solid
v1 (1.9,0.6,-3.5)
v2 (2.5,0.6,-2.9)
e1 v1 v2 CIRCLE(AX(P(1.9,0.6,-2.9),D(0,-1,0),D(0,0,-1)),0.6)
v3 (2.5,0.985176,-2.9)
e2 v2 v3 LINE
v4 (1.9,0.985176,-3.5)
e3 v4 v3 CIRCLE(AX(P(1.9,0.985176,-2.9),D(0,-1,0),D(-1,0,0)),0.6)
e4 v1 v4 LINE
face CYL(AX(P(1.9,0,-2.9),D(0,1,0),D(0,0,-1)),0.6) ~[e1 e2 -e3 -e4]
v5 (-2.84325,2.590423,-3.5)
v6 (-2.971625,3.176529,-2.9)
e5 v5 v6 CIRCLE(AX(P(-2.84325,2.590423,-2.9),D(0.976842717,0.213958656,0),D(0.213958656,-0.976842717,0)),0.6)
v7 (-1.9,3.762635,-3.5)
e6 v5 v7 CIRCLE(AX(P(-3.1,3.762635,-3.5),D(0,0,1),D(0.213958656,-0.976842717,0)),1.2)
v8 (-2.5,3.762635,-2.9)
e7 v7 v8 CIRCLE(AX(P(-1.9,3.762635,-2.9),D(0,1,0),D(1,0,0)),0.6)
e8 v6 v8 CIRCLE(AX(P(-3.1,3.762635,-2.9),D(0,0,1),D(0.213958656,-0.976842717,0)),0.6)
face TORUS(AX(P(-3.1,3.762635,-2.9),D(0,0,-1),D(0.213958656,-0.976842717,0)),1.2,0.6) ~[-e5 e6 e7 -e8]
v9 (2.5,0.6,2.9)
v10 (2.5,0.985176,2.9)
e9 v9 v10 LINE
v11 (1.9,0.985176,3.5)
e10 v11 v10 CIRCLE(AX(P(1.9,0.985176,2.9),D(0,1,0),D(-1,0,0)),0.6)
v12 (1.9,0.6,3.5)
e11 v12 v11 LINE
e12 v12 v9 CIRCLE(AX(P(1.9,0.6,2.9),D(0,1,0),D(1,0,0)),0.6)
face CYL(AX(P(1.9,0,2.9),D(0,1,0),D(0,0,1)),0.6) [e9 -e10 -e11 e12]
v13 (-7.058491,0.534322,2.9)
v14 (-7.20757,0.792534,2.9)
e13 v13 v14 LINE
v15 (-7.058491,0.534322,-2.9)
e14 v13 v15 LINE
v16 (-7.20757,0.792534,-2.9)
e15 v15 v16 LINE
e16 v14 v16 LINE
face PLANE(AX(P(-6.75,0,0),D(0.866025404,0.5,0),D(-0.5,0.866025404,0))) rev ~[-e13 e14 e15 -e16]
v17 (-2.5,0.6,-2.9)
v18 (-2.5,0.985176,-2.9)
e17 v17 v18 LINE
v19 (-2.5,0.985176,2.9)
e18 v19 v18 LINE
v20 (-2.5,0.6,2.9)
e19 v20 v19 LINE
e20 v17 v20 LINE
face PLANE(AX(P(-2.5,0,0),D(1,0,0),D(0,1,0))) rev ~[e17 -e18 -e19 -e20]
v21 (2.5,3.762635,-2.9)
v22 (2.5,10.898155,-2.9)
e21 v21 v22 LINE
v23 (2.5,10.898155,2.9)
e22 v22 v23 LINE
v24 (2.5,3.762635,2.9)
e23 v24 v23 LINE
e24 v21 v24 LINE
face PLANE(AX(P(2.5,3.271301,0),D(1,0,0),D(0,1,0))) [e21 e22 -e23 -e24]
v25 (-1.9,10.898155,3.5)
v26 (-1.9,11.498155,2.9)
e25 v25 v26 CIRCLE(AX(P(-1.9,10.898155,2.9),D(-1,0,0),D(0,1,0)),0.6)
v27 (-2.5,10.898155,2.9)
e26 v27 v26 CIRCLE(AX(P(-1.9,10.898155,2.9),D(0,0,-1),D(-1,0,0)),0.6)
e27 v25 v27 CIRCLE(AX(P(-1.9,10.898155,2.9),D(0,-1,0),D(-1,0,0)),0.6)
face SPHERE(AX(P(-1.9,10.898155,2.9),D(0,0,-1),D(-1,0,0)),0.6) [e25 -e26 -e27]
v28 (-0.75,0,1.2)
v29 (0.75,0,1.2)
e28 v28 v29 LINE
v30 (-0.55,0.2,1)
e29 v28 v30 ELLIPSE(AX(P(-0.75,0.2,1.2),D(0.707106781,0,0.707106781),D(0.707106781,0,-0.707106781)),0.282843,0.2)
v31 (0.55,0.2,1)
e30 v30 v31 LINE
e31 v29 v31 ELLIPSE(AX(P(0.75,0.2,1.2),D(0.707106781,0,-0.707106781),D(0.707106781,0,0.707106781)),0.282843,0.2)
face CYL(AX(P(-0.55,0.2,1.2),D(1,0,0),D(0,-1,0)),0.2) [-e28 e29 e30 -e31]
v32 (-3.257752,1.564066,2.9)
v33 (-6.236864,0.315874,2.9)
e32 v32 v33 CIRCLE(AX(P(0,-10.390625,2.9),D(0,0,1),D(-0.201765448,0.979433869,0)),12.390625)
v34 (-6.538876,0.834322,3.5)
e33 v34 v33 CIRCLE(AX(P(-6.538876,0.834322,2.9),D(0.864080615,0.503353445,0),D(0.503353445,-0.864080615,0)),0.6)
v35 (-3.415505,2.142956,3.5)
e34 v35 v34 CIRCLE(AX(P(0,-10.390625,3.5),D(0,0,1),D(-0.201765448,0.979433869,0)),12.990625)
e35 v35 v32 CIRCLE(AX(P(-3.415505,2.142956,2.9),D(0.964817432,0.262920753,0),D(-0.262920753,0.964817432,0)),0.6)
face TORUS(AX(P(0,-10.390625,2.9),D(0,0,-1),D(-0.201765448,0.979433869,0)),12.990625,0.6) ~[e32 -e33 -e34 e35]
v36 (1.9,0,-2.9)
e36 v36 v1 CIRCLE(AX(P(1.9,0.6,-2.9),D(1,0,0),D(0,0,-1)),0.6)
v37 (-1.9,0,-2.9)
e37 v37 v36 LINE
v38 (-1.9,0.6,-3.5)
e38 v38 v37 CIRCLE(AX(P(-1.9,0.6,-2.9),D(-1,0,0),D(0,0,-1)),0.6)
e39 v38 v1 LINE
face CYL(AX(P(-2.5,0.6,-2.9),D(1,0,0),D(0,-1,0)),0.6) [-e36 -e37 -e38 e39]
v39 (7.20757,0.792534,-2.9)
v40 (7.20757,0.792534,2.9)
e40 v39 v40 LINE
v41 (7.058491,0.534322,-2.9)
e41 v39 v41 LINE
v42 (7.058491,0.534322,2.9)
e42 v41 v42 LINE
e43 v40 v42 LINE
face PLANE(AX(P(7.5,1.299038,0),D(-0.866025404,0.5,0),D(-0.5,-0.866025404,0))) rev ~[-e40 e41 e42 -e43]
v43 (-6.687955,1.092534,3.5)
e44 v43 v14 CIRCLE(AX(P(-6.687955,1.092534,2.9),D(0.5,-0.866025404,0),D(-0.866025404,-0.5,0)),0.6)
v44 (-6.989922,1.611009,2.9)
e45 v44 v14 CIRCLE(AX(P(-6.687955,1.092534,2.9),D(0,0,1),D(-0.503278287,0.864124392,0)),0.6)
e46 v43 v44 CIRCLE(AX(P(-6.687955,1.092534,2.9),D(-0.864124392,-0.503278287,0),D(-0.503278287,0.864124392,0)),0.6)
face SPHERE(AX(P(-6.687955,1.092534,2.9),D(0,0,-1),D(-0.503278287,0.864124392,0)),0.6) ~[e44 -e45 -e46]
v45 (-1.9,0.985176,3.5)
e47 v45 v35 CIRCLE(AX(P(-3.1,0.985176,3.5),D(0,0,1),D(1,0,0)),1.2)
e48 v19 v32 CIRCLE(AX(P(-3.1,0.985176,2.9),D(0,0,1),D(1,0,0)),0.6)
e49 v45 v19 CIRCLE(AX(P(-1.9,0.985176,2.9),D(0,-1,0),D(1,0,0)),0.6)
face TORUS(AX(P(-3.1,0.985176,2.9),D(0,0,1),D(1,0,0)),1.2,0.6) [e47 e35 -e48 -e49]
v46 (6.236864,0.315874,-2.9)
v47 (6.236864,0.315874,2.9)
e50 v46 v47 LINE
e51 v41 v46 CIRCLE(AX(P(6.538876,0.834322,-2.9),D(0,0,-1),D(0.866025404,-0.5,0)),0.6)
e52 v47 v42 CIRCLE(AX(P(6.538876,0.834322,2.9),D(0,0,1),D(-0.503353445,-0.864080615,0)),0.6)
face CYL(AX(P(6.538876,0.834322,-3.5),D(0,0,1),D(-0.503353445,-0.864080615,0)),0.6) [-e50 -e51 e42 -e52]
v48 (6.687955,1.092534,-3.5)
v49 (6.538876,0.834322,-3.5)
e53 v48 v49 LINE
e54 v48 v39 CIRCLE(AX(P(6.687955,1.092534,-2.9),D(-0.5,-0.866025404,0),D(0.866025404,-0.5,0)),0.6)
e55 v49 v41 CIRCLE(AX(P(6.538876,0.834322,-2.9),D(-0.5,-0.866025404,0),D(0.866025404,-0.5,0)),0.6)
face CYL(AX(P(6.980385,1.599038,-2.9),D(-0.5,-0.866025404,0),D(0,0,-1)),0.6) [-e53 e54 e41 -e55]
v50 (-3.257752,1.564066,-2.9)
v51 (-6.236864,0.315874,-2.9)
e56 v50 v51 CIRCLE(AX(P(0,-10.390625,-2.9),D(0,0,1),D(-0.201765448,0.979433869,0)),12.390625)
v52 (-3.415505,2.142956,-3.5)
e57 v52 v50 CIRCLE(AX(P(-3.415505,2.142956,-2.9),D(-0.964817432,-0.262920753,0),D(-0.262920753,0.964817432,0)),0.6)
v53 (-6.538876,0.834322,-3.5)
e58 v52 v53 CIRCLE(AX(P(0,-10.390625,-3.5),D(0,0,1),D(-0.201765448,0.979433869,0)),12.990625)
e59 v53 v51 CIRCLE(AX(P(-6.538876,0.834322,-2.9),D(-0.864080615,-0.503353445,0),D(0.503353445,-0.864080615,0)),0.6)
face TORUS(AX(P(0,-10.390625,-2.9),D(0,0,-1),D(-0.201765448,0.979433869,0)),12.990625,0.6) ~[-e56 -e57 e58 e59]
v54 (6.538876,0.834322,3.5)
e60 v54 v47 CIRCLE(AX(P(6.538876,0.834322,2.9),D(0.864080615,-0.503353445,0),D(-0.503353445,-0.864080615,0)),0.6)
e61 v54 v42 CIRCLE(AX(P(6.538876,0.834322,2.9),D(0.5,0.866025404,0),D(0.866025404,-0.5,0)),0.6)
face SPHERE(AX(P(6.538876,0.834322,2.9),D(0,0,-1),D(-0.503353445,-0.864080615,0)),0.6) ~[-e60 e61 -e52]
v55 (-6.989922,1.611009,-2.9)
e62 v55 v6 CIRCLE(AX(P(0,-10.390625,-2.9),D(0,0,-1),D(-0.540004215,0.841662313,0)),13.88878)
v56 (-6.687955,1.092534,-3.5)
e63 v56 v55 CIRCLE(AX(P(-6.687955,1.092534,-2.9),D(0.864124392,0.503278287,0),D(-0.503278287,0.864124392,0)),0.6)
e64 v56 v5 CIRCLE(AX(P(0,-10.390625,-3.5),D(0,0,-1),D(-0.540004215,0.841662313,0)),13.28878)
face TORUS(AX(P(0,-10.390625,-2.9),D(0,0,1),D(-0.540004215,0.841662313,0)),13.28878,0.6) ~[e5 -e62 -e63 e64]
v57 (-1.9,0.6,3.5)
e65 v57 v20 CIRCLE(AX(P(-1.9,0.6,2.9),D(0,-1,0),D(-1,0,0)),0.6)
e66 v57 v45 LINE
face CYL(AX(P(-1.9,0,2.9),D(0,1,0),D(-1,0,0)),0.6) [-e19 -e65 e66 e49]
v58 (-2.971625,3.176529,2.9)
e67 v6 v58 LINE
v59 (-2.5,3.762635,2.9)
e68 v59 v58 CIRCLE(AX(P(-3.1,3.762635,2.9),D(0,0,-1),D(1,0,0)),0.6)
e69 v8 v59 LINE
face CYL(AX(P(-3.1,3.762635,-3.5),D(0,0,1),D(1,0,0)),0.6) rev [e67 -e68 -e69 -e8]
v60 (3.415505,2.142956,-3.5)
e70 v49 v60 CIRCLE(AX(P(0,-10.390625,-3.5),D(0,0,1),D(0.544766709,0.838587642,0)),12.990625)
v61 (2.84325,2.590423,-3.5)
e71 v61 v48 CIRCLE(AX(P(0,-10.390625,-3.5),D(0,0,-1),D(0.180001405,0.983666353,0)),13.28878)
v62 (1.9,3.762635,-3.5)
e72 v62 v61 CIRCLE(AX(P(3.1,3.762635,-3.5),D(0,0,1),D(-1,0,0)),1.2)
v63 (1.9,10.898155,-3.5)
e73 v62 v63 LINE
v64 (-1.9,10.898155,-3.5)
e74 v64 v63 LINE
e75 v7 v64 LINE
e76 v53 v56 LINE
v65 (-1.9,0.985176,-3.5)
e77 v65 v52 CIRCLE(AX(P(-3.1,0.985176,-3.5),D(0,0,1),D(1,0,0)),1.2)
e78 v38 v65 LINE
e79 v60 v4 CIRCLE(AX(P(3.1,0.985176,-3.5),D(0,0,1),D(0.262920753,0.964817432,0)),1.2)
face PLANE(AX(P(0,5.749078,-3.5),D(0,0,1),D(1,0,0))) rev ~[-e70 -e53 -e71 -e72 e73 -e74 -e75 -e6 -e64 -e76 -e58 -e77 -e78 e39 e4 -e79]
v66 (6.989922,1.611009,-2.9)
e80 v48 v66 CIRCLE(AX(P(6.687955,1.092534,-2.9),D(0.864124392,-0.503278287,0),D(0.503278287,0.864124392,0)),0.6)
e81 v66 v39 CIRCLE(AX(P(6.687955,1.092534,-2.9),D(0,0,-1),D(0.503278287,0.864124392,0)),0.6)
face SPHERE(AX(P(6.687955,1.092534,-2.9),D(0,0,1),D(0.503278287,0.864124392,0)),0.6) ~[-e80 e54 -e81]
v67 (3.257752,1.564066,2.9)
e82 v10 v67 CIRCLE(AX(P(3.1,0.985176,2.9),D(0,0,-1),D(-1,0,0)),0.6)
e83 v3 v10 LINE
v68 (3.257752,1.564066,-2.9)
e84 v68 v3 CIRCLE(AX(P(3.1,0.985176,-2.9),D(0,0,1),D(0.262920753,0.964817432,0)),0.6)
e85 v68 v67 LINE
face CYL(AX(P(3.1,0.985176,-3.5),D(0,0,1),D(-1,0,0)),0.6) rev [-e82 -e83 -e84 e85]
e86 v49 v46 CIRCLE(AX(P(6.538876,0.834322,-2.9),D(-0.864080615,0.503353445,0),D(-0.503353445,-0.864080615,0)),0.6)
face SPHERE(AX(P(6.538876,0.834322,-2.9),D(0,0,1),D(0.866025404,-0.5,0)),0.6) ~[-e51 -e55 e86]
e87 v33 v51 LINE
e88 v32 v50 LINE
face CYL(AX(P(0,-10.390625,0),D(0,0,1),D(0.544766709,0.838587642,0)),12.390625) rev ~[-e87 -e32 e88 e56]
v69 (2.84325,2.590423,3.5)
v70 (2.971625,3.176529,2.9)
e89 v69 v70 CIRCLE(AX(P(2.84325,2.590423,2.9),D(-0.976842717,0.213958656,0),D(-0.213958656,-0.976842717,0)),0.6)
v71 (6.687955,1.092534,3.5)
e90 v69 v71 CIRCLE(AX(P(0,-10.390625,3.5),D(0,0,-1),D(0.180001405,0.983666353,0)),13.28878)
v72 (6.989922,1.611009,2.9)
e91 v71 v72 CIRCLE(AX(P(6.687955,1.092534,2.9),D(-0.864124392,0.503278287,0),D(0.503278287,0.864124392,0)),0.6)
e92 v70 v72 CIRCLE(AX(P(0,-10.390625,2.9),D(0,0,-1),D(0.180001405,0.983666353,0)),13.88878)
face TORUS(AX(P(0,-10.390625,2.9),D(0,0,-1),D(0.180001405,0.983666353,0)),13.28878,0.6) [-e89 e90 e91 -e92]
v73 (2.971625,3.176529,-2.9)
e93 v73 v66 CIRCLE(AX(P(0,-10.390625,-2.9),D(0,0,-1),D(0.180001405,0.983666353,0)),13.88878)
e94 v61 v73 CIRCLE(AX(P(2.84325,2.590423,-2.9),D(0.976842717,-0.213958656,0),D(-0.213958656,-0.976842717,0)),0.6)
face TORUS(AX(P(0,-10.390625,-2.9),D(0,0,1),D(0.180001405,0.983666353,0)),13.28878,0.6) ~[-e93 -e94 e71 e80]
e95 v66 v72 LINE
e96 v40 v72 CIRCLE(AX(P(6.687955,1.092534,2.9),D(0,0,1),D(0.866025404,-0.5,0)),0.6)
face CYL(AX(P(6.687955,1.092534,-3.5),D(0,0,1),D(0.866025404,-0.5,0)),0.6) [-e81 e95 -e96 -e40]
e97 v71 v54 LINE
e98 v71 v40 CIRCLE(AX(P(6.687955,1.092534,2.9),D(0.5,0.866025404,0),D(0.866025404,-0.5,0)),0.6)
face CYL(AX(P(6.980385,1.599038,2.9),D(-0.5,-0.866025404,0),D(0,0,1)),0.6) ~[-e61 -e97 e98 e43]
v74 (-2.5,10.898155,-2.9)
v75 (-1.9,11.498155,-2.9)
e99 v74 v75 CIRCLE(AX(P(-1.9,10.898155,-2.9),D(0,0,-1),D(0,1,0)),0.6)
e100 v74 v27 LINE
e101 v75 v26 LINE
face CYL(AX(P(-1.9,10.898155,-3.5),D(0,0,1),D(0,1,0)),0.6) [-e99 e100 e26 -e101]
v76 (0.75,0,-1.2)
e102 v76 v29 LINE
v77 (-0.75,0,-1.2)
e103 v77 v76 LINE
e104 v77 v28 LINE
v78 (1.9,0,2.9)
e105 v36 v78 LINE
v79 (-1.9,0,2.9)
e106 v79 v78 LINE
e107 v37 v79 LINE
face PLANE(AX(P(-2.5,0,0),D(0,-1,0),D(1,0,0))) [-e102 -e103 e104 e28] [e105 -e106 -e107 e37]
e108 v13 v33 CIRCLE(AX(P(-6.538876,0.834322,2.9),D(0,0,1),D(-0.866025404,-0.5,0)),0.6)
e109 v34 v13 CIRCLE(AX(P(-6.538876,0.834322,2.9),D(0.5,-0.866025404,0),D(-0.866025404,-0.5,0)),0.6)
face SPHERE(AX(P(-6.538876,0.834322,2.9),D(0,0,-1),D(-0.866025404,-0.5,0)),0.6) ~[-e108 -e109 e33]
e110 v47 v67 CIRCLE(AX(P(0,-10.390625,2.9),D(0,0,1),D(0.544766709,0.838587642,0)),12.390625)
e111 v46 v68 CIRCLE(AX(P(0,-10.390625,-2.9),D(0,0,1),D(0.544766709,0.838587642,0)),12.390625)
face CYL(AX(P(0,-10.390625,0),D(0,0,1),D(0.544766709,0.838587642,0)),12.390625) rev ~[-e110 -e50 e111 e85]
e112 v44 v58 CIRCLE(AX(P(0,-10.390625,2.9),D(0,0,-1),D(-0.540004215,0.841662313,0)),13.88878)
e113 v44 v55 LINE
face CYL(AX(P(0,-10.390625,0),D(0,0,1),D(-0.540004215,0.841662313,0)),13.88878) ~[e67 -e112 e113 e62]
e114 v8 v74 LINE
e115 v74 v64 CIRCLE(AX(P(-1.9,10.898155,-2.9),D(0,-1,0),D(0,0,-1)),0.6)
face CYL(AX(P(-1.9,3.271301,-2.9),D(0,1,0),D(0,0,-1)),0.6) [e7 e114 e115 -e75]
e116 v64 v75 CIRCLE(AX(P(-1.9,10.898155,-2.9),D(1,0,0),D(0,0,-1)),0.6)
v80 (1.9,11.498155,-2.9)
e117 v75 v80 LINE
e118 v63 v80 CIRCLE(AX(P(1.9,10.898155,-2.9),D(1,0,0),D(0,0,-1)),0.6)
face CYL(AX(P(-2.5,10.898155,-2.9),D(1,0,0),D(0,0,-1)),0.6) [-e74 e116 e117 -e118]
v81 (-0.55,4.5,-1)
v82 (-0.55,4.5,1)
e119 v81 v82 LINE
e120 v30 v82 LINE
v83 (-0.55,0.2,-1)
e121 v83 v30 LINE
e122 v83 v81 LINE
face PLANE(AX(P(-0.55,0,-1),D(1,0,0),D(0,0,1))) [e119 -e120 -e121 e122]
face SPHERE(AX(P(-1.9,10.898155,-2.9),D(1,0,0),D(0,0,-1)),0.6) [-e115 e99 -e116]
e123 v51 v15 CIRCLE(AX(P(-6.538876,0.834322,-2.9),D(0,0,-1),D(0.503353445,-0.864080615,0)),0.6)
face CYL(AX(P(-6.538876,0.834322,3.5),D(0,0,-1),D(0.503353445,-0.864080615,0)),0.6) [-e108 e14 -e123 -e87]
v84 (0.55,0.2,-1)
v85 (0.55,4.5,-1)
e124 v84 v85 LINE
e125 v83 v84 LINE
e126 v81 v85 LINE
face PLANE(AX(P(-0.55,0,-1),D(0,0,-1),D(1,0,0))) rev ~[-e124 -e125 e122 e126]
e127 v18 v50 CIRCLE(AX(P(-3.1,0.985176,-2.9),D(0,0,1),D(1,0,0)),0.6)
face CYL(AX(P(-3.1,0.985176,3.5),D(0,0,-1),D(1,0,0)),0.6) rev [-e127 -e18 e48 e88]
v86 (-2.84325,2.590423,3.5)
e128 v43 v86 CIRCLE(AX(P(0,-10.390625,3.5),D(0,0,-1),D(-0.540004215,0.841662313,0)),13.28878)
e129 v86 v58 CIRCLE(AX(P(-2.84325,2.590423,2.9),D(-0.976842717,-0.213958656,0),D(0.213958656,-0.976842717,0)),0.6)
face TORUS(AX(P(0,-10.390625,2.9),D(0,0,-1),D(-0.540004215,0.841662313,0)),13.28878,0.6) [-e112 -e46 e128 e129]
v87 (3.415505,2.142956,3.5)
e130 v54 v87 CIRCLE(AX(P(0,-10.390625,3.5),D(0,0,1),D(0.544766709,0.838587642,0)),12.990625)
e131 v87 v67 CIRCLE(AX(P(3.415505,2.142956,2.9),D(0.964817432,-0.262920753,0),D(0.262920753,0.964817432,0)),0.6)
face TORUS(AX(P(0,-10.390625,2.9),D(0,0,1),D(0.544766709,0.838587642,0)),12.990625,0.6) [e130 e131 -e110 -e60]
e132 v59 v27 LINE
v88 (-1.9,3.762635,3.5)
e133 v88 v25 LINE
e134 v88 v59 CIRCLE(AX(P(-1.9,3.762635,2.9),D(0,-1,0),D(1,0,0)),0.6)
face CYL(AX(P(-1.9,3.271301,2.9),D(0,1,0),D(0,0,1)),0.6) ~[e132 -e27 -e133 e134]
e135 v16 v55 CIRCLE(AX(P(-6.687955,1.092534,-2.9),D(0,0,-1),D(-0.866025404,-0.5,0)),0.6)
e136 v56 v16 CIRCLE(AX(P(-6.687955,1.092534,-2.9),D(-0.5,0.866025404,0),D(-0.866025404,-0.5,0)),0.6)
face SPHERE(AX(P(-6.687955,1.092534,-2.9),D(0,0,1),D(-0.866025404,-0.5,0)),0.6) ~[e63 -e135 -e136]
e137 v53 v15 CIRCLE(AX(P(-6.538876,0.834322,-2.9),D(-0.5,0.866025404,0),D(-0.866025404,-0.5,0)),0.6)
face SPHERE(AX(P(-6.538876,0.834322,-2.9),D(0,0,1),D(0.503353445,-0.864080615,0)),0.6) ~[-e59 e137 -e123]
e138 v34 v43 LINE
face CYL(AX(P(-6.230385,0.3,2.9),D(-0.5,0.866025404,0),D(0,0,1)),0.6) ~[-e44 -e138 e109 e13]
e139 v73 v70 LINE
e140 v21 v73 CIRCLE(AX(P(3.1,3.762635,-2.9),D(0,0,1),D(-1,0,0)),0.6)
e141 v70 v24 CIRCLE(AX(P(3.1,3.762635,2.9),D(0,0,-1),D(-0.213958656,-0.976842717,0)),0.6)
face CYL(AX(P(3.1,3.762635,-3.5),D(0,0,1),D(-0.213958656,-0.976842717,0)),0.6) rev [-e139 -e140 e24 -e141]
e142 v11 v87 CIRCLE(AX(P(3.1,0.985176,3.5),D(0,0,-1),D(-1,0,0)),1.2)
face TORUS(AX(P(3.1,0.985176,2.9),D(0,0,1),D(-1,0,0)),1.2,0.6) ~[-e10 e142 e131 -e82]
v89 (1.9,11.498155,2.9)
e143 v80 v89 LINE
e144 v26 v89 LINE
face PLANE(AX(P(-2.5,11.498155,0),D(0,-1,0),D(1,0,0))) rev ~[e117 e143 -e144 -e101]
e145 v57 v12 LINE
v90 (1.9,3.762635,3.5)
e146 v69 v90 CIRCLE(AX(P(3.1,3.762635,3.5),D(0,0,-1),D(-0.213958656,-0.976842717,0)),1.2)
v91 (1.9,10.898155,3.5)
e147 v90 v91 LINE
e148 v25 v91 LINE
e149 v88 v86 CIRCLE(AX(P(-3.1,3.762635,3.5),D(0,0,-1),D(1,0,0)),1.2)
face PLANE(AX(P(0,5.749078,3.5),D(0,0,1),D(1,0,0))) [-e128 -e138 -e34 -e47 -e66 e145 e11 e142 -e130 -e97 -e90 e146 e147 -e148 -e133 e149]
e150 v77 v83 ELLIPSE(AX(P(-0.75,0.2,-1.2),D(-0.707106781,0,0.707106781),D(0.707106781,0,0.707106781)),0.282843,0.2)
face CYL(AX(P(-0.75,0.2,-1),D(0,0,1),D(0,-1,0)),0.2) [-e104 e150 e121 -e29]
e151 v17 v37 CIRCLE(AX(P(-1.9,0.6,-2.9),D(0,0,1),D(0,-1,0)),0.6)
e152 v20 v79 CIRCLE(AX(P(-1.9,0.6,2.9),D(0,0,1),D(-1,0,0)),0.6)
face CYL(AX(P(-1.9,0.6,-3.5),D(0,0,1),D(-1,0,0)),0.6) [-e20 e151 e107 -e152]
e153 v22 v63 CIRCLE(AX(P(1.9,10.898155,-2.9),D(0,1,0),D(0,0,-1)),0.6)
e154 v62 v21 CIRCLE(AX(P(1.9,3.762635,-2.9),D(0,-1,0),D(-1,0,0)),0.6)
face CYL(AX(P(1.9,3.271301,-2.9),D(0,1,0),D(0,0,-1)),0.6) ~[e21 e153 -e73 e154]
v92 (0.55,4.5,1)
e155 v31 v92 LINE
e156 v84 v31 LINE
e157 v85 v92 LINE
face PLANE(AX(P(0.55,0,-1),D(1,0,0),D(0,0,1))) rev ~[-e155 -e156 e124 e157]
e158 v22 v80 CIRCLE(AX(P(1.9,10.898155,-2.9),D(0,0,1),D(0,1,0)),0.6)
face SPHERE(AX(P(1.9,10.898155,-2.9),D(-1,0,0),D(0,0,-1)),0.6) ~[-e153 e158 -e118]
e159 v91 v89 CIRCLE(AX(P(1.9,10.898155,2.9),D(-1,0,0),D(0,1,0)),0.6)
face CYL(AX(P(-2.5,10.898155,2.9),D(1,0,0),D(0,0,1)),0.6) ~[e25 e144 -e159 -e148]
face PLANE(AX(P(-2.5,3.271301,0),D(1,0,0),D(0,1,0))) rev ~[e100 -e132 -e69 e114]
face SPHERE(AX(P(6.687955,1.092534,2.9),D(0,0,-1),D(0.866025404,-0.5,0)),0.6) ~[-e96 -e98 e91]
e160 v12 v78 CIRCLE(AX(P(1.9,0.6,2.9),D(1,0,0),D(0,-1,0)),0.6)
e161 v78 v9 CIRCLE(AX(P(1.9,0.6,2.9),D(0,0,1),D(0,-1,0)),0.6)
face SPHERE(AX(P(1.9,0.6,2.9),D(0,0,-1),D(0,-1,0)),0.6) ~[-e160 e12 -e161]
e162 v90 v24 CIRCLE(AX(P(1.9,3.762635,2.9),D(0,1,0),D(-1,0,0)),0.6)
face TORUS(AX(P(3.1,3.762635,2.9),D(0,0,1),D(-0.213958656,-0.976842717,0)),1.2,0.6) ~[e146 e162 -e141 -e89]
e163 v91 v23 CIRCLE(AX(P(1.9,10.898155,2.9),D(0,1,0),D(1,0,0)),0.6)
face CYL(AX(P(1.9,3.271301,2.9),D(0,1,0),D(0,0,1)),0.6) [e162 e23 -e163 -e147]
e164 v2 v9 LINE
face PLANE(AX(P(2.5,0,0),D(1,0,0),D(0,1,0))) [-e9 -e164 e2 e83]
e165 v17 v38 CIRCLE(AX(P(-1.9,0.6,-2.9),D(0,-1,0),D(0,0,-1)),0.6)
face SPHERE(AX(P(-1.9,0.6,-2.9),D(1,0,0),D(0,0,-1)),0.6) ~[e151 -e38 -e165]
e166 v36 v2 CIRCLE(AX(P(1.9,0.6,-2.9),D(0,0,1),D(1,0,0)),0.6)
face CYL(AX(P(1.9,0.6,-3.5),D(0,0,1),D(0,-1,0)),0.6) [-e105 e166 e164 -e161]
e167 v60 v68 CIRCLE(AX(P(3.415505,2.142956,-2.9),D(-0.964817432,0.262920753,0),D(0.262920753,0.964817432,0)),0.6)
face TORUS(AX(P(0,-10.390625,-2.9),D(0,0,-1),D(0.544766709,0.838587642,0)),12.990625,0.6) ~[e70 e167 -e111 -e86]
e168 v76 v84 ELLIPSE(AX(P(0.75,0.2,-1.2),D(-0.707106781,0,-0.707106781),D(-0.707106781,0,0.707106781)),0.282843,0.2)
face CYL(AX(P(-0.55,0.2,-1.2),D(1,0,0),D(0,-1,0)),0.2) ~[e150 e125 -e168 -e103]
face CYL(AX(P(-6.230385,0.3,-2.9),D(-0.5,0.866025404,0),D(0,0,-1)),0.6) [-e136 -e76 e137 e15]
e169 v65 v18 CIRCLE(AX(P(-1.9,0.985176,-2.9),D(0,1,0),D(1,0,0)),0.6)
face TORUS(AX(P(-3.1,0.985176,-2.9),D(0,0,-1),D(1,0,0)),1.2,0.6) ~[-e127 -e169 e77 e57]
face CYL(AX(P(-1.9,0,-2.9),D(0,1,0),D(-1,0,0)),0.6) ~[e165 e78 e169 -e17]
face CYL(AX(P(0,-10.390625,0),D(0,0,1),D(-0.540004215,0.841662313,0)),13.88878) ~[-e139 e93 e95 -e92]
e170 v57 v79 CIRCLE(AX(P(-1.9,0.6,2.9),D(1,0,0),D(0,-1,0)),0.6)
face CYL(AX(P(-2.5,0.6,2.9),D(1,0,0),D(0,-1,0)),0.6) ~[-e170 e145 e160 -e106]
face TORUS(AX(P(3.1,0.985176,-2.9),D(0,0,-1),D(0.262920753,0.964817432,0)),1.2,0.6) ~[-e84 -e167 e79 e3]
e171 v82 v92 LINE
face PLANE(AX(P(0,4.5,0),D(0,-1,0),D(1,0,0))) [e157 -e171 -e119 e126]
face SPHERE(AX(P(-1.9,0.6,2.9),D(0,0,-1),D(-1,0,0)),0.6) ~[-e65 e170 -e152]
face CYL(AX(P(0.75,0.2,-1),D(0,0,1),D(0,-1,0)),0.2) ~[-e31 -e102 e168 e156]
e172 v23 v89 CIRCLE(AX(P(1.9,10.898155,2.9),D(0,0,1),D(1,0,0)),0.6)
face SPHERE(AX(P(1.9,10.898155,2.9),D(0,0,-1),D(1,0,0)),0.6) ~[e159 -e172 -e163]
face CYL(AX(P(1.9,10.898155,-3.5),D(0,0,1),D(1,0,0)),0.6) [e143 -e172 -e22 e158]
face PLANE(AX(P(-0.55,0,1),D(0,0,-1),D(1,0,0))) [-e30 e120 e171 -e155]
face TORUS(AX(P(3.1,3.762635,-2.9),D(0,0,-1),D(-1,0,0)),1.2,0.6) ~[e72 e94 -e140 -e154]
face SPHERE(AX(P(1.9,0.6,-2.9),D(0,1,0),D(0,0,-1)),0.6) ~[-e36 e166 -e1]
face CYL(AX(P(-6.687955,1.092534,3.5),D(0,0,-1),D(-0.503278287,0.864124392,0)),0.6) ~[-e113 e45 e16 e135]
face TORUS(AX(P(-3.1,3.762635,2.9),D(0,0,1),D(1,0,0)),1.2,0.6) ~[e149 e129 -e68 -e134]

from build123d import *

# Parameters (mm, degrees)
EXTRUDE_1_DEPTH     = 3.5
SKETCH_2_W          = 1.1
SKETCH_2_H          = 2
CUT_EXTRUDE_1_DEPTH = 4.5
FILLET_1_R          = 0.6
FILLET_2_R          = 0.2


with BuildPart() as part:
    # 草图1 → 凸台-拉伸1 (new, symmetric)
    with BuildSketch(Plane.XY):
        with BuildLine():
            Line((-2.5, 1.745172786), (-2.5, 0))
            Line((-2.5, 0), (2.5, 0))
            Line((2.5, 0), (2.5, 1.745172786))
            ThreePointArc((2.5, 1.745172786), (4.706594524, 1.071292635), (6.75, 0))
            Line((6.75, 0), (7.5, 1.299038106))
            ThreePointArc((7.5, 1.299038106), (5.096317816, 2.529350551), (2.5, 3.271301055))
            Line((2.5, 3.271301055), (2.5, 11.498155491))
            Line((2.5, 11.498155491), (-2.5, 11.498155491))
            Line((-2.5, 11.498155491), (-2.5, 3.271301055))
            ThreePointArc((-2.5, 3.271301055), (-5.096317816, 2.529350551), (-7.5, 1.299038106))
            Line((-7.5, 1.299038106), (-6.75, 0))
            ThreePointArc((-6.75, 0), (-4.706594524, 1.071292635), (-2.5, 1.745172786))
        make_face()
    extrude(amount=EXTRUDE_1_DEPTH, both=True)

    # 草图2 → 切除-拉伸1 (cut)
    with BuildSketch(Plane.XZ):
        Rectangle(SKETCH_2_W, SKETCH_2_H)
    extrude(amount=-CUT_EXTRUDE_1_DEPTH, mode=Mode.SUBTRACT)

    # 圆角1
    fillet_1_edges = [part.edges().sort_by_distance(p)[0] for p in [
        (2.5, 0, 0),
        (2.5, 1.745172786, 0),
        (-2.5, 1.745172786, 0),
        (-2.5, 0, 0),
        (2.5, 11.498155491, 0),
        (-2.5, 11.498155491, 0),
        (-5.096317816, 2.529350551, -3.5),
        (-4.706594524, 1.071292635, -3.5),
        (-2.5, 0.872586393, -3.5),
        (0, 0, -3.5),
        (2.5, 0.872586393, -3.5),
        (4.706594524, 1.071292635, -3.5),
        (5.096317816, 2.529350551, -3.5),
        (2.5, 7.384728273, -3.5),
        (0, 11.498155491, -3.5),
        (-2.5, 7.384728273, -3.5),
        (0, 11.498155491, 3.5),
        (2.5, 7.384728273, 3.5),
        (5.096317816, 2.529350551, 3.5),
        (4.706594524, 1.071292635, 3.5),
        (2.5, 0.872586393, 3.5),
        (0, 0, 3.5),
        (-2.5, 0.872586393, 3.5),
        (-4.706594524, 1.071292635, 3.5),
        (-5.096317816, 2.529350551, 3.5),
        (-2.5, 7.384728273, 3.5),
        (-7.5, 1.299038106, 0),
        (-7.125, 0.649519053, 3.5),
        (-6.75, 0, 0),
        (-7.125, 0.649519053, -3.5),
        (6.75, 0, 0),
        (7.125, 0.649519053, 3.5),
        (7.5, 1.299038106, 0),
        (7.125, 0.649519053, -3.5),
        (2.5, 3.271301055, 0),
        (-2.5, 3.271301055, 0),
    ]]
    fillet(fillet_1_edges, radius=FILLET_1_R)

    # 圆角2
    fillet_2_edges = [part.edges().sort_by_distance(p)[0] for p in [
        (0.55, 0, 0),
        (-0.55, 0, 0),
        (0, 0, -1),
        (0, 0, 1),
    ]]
    fillet(fillet_2_edges, radius=FILLET_2_R)


solid = part.part
